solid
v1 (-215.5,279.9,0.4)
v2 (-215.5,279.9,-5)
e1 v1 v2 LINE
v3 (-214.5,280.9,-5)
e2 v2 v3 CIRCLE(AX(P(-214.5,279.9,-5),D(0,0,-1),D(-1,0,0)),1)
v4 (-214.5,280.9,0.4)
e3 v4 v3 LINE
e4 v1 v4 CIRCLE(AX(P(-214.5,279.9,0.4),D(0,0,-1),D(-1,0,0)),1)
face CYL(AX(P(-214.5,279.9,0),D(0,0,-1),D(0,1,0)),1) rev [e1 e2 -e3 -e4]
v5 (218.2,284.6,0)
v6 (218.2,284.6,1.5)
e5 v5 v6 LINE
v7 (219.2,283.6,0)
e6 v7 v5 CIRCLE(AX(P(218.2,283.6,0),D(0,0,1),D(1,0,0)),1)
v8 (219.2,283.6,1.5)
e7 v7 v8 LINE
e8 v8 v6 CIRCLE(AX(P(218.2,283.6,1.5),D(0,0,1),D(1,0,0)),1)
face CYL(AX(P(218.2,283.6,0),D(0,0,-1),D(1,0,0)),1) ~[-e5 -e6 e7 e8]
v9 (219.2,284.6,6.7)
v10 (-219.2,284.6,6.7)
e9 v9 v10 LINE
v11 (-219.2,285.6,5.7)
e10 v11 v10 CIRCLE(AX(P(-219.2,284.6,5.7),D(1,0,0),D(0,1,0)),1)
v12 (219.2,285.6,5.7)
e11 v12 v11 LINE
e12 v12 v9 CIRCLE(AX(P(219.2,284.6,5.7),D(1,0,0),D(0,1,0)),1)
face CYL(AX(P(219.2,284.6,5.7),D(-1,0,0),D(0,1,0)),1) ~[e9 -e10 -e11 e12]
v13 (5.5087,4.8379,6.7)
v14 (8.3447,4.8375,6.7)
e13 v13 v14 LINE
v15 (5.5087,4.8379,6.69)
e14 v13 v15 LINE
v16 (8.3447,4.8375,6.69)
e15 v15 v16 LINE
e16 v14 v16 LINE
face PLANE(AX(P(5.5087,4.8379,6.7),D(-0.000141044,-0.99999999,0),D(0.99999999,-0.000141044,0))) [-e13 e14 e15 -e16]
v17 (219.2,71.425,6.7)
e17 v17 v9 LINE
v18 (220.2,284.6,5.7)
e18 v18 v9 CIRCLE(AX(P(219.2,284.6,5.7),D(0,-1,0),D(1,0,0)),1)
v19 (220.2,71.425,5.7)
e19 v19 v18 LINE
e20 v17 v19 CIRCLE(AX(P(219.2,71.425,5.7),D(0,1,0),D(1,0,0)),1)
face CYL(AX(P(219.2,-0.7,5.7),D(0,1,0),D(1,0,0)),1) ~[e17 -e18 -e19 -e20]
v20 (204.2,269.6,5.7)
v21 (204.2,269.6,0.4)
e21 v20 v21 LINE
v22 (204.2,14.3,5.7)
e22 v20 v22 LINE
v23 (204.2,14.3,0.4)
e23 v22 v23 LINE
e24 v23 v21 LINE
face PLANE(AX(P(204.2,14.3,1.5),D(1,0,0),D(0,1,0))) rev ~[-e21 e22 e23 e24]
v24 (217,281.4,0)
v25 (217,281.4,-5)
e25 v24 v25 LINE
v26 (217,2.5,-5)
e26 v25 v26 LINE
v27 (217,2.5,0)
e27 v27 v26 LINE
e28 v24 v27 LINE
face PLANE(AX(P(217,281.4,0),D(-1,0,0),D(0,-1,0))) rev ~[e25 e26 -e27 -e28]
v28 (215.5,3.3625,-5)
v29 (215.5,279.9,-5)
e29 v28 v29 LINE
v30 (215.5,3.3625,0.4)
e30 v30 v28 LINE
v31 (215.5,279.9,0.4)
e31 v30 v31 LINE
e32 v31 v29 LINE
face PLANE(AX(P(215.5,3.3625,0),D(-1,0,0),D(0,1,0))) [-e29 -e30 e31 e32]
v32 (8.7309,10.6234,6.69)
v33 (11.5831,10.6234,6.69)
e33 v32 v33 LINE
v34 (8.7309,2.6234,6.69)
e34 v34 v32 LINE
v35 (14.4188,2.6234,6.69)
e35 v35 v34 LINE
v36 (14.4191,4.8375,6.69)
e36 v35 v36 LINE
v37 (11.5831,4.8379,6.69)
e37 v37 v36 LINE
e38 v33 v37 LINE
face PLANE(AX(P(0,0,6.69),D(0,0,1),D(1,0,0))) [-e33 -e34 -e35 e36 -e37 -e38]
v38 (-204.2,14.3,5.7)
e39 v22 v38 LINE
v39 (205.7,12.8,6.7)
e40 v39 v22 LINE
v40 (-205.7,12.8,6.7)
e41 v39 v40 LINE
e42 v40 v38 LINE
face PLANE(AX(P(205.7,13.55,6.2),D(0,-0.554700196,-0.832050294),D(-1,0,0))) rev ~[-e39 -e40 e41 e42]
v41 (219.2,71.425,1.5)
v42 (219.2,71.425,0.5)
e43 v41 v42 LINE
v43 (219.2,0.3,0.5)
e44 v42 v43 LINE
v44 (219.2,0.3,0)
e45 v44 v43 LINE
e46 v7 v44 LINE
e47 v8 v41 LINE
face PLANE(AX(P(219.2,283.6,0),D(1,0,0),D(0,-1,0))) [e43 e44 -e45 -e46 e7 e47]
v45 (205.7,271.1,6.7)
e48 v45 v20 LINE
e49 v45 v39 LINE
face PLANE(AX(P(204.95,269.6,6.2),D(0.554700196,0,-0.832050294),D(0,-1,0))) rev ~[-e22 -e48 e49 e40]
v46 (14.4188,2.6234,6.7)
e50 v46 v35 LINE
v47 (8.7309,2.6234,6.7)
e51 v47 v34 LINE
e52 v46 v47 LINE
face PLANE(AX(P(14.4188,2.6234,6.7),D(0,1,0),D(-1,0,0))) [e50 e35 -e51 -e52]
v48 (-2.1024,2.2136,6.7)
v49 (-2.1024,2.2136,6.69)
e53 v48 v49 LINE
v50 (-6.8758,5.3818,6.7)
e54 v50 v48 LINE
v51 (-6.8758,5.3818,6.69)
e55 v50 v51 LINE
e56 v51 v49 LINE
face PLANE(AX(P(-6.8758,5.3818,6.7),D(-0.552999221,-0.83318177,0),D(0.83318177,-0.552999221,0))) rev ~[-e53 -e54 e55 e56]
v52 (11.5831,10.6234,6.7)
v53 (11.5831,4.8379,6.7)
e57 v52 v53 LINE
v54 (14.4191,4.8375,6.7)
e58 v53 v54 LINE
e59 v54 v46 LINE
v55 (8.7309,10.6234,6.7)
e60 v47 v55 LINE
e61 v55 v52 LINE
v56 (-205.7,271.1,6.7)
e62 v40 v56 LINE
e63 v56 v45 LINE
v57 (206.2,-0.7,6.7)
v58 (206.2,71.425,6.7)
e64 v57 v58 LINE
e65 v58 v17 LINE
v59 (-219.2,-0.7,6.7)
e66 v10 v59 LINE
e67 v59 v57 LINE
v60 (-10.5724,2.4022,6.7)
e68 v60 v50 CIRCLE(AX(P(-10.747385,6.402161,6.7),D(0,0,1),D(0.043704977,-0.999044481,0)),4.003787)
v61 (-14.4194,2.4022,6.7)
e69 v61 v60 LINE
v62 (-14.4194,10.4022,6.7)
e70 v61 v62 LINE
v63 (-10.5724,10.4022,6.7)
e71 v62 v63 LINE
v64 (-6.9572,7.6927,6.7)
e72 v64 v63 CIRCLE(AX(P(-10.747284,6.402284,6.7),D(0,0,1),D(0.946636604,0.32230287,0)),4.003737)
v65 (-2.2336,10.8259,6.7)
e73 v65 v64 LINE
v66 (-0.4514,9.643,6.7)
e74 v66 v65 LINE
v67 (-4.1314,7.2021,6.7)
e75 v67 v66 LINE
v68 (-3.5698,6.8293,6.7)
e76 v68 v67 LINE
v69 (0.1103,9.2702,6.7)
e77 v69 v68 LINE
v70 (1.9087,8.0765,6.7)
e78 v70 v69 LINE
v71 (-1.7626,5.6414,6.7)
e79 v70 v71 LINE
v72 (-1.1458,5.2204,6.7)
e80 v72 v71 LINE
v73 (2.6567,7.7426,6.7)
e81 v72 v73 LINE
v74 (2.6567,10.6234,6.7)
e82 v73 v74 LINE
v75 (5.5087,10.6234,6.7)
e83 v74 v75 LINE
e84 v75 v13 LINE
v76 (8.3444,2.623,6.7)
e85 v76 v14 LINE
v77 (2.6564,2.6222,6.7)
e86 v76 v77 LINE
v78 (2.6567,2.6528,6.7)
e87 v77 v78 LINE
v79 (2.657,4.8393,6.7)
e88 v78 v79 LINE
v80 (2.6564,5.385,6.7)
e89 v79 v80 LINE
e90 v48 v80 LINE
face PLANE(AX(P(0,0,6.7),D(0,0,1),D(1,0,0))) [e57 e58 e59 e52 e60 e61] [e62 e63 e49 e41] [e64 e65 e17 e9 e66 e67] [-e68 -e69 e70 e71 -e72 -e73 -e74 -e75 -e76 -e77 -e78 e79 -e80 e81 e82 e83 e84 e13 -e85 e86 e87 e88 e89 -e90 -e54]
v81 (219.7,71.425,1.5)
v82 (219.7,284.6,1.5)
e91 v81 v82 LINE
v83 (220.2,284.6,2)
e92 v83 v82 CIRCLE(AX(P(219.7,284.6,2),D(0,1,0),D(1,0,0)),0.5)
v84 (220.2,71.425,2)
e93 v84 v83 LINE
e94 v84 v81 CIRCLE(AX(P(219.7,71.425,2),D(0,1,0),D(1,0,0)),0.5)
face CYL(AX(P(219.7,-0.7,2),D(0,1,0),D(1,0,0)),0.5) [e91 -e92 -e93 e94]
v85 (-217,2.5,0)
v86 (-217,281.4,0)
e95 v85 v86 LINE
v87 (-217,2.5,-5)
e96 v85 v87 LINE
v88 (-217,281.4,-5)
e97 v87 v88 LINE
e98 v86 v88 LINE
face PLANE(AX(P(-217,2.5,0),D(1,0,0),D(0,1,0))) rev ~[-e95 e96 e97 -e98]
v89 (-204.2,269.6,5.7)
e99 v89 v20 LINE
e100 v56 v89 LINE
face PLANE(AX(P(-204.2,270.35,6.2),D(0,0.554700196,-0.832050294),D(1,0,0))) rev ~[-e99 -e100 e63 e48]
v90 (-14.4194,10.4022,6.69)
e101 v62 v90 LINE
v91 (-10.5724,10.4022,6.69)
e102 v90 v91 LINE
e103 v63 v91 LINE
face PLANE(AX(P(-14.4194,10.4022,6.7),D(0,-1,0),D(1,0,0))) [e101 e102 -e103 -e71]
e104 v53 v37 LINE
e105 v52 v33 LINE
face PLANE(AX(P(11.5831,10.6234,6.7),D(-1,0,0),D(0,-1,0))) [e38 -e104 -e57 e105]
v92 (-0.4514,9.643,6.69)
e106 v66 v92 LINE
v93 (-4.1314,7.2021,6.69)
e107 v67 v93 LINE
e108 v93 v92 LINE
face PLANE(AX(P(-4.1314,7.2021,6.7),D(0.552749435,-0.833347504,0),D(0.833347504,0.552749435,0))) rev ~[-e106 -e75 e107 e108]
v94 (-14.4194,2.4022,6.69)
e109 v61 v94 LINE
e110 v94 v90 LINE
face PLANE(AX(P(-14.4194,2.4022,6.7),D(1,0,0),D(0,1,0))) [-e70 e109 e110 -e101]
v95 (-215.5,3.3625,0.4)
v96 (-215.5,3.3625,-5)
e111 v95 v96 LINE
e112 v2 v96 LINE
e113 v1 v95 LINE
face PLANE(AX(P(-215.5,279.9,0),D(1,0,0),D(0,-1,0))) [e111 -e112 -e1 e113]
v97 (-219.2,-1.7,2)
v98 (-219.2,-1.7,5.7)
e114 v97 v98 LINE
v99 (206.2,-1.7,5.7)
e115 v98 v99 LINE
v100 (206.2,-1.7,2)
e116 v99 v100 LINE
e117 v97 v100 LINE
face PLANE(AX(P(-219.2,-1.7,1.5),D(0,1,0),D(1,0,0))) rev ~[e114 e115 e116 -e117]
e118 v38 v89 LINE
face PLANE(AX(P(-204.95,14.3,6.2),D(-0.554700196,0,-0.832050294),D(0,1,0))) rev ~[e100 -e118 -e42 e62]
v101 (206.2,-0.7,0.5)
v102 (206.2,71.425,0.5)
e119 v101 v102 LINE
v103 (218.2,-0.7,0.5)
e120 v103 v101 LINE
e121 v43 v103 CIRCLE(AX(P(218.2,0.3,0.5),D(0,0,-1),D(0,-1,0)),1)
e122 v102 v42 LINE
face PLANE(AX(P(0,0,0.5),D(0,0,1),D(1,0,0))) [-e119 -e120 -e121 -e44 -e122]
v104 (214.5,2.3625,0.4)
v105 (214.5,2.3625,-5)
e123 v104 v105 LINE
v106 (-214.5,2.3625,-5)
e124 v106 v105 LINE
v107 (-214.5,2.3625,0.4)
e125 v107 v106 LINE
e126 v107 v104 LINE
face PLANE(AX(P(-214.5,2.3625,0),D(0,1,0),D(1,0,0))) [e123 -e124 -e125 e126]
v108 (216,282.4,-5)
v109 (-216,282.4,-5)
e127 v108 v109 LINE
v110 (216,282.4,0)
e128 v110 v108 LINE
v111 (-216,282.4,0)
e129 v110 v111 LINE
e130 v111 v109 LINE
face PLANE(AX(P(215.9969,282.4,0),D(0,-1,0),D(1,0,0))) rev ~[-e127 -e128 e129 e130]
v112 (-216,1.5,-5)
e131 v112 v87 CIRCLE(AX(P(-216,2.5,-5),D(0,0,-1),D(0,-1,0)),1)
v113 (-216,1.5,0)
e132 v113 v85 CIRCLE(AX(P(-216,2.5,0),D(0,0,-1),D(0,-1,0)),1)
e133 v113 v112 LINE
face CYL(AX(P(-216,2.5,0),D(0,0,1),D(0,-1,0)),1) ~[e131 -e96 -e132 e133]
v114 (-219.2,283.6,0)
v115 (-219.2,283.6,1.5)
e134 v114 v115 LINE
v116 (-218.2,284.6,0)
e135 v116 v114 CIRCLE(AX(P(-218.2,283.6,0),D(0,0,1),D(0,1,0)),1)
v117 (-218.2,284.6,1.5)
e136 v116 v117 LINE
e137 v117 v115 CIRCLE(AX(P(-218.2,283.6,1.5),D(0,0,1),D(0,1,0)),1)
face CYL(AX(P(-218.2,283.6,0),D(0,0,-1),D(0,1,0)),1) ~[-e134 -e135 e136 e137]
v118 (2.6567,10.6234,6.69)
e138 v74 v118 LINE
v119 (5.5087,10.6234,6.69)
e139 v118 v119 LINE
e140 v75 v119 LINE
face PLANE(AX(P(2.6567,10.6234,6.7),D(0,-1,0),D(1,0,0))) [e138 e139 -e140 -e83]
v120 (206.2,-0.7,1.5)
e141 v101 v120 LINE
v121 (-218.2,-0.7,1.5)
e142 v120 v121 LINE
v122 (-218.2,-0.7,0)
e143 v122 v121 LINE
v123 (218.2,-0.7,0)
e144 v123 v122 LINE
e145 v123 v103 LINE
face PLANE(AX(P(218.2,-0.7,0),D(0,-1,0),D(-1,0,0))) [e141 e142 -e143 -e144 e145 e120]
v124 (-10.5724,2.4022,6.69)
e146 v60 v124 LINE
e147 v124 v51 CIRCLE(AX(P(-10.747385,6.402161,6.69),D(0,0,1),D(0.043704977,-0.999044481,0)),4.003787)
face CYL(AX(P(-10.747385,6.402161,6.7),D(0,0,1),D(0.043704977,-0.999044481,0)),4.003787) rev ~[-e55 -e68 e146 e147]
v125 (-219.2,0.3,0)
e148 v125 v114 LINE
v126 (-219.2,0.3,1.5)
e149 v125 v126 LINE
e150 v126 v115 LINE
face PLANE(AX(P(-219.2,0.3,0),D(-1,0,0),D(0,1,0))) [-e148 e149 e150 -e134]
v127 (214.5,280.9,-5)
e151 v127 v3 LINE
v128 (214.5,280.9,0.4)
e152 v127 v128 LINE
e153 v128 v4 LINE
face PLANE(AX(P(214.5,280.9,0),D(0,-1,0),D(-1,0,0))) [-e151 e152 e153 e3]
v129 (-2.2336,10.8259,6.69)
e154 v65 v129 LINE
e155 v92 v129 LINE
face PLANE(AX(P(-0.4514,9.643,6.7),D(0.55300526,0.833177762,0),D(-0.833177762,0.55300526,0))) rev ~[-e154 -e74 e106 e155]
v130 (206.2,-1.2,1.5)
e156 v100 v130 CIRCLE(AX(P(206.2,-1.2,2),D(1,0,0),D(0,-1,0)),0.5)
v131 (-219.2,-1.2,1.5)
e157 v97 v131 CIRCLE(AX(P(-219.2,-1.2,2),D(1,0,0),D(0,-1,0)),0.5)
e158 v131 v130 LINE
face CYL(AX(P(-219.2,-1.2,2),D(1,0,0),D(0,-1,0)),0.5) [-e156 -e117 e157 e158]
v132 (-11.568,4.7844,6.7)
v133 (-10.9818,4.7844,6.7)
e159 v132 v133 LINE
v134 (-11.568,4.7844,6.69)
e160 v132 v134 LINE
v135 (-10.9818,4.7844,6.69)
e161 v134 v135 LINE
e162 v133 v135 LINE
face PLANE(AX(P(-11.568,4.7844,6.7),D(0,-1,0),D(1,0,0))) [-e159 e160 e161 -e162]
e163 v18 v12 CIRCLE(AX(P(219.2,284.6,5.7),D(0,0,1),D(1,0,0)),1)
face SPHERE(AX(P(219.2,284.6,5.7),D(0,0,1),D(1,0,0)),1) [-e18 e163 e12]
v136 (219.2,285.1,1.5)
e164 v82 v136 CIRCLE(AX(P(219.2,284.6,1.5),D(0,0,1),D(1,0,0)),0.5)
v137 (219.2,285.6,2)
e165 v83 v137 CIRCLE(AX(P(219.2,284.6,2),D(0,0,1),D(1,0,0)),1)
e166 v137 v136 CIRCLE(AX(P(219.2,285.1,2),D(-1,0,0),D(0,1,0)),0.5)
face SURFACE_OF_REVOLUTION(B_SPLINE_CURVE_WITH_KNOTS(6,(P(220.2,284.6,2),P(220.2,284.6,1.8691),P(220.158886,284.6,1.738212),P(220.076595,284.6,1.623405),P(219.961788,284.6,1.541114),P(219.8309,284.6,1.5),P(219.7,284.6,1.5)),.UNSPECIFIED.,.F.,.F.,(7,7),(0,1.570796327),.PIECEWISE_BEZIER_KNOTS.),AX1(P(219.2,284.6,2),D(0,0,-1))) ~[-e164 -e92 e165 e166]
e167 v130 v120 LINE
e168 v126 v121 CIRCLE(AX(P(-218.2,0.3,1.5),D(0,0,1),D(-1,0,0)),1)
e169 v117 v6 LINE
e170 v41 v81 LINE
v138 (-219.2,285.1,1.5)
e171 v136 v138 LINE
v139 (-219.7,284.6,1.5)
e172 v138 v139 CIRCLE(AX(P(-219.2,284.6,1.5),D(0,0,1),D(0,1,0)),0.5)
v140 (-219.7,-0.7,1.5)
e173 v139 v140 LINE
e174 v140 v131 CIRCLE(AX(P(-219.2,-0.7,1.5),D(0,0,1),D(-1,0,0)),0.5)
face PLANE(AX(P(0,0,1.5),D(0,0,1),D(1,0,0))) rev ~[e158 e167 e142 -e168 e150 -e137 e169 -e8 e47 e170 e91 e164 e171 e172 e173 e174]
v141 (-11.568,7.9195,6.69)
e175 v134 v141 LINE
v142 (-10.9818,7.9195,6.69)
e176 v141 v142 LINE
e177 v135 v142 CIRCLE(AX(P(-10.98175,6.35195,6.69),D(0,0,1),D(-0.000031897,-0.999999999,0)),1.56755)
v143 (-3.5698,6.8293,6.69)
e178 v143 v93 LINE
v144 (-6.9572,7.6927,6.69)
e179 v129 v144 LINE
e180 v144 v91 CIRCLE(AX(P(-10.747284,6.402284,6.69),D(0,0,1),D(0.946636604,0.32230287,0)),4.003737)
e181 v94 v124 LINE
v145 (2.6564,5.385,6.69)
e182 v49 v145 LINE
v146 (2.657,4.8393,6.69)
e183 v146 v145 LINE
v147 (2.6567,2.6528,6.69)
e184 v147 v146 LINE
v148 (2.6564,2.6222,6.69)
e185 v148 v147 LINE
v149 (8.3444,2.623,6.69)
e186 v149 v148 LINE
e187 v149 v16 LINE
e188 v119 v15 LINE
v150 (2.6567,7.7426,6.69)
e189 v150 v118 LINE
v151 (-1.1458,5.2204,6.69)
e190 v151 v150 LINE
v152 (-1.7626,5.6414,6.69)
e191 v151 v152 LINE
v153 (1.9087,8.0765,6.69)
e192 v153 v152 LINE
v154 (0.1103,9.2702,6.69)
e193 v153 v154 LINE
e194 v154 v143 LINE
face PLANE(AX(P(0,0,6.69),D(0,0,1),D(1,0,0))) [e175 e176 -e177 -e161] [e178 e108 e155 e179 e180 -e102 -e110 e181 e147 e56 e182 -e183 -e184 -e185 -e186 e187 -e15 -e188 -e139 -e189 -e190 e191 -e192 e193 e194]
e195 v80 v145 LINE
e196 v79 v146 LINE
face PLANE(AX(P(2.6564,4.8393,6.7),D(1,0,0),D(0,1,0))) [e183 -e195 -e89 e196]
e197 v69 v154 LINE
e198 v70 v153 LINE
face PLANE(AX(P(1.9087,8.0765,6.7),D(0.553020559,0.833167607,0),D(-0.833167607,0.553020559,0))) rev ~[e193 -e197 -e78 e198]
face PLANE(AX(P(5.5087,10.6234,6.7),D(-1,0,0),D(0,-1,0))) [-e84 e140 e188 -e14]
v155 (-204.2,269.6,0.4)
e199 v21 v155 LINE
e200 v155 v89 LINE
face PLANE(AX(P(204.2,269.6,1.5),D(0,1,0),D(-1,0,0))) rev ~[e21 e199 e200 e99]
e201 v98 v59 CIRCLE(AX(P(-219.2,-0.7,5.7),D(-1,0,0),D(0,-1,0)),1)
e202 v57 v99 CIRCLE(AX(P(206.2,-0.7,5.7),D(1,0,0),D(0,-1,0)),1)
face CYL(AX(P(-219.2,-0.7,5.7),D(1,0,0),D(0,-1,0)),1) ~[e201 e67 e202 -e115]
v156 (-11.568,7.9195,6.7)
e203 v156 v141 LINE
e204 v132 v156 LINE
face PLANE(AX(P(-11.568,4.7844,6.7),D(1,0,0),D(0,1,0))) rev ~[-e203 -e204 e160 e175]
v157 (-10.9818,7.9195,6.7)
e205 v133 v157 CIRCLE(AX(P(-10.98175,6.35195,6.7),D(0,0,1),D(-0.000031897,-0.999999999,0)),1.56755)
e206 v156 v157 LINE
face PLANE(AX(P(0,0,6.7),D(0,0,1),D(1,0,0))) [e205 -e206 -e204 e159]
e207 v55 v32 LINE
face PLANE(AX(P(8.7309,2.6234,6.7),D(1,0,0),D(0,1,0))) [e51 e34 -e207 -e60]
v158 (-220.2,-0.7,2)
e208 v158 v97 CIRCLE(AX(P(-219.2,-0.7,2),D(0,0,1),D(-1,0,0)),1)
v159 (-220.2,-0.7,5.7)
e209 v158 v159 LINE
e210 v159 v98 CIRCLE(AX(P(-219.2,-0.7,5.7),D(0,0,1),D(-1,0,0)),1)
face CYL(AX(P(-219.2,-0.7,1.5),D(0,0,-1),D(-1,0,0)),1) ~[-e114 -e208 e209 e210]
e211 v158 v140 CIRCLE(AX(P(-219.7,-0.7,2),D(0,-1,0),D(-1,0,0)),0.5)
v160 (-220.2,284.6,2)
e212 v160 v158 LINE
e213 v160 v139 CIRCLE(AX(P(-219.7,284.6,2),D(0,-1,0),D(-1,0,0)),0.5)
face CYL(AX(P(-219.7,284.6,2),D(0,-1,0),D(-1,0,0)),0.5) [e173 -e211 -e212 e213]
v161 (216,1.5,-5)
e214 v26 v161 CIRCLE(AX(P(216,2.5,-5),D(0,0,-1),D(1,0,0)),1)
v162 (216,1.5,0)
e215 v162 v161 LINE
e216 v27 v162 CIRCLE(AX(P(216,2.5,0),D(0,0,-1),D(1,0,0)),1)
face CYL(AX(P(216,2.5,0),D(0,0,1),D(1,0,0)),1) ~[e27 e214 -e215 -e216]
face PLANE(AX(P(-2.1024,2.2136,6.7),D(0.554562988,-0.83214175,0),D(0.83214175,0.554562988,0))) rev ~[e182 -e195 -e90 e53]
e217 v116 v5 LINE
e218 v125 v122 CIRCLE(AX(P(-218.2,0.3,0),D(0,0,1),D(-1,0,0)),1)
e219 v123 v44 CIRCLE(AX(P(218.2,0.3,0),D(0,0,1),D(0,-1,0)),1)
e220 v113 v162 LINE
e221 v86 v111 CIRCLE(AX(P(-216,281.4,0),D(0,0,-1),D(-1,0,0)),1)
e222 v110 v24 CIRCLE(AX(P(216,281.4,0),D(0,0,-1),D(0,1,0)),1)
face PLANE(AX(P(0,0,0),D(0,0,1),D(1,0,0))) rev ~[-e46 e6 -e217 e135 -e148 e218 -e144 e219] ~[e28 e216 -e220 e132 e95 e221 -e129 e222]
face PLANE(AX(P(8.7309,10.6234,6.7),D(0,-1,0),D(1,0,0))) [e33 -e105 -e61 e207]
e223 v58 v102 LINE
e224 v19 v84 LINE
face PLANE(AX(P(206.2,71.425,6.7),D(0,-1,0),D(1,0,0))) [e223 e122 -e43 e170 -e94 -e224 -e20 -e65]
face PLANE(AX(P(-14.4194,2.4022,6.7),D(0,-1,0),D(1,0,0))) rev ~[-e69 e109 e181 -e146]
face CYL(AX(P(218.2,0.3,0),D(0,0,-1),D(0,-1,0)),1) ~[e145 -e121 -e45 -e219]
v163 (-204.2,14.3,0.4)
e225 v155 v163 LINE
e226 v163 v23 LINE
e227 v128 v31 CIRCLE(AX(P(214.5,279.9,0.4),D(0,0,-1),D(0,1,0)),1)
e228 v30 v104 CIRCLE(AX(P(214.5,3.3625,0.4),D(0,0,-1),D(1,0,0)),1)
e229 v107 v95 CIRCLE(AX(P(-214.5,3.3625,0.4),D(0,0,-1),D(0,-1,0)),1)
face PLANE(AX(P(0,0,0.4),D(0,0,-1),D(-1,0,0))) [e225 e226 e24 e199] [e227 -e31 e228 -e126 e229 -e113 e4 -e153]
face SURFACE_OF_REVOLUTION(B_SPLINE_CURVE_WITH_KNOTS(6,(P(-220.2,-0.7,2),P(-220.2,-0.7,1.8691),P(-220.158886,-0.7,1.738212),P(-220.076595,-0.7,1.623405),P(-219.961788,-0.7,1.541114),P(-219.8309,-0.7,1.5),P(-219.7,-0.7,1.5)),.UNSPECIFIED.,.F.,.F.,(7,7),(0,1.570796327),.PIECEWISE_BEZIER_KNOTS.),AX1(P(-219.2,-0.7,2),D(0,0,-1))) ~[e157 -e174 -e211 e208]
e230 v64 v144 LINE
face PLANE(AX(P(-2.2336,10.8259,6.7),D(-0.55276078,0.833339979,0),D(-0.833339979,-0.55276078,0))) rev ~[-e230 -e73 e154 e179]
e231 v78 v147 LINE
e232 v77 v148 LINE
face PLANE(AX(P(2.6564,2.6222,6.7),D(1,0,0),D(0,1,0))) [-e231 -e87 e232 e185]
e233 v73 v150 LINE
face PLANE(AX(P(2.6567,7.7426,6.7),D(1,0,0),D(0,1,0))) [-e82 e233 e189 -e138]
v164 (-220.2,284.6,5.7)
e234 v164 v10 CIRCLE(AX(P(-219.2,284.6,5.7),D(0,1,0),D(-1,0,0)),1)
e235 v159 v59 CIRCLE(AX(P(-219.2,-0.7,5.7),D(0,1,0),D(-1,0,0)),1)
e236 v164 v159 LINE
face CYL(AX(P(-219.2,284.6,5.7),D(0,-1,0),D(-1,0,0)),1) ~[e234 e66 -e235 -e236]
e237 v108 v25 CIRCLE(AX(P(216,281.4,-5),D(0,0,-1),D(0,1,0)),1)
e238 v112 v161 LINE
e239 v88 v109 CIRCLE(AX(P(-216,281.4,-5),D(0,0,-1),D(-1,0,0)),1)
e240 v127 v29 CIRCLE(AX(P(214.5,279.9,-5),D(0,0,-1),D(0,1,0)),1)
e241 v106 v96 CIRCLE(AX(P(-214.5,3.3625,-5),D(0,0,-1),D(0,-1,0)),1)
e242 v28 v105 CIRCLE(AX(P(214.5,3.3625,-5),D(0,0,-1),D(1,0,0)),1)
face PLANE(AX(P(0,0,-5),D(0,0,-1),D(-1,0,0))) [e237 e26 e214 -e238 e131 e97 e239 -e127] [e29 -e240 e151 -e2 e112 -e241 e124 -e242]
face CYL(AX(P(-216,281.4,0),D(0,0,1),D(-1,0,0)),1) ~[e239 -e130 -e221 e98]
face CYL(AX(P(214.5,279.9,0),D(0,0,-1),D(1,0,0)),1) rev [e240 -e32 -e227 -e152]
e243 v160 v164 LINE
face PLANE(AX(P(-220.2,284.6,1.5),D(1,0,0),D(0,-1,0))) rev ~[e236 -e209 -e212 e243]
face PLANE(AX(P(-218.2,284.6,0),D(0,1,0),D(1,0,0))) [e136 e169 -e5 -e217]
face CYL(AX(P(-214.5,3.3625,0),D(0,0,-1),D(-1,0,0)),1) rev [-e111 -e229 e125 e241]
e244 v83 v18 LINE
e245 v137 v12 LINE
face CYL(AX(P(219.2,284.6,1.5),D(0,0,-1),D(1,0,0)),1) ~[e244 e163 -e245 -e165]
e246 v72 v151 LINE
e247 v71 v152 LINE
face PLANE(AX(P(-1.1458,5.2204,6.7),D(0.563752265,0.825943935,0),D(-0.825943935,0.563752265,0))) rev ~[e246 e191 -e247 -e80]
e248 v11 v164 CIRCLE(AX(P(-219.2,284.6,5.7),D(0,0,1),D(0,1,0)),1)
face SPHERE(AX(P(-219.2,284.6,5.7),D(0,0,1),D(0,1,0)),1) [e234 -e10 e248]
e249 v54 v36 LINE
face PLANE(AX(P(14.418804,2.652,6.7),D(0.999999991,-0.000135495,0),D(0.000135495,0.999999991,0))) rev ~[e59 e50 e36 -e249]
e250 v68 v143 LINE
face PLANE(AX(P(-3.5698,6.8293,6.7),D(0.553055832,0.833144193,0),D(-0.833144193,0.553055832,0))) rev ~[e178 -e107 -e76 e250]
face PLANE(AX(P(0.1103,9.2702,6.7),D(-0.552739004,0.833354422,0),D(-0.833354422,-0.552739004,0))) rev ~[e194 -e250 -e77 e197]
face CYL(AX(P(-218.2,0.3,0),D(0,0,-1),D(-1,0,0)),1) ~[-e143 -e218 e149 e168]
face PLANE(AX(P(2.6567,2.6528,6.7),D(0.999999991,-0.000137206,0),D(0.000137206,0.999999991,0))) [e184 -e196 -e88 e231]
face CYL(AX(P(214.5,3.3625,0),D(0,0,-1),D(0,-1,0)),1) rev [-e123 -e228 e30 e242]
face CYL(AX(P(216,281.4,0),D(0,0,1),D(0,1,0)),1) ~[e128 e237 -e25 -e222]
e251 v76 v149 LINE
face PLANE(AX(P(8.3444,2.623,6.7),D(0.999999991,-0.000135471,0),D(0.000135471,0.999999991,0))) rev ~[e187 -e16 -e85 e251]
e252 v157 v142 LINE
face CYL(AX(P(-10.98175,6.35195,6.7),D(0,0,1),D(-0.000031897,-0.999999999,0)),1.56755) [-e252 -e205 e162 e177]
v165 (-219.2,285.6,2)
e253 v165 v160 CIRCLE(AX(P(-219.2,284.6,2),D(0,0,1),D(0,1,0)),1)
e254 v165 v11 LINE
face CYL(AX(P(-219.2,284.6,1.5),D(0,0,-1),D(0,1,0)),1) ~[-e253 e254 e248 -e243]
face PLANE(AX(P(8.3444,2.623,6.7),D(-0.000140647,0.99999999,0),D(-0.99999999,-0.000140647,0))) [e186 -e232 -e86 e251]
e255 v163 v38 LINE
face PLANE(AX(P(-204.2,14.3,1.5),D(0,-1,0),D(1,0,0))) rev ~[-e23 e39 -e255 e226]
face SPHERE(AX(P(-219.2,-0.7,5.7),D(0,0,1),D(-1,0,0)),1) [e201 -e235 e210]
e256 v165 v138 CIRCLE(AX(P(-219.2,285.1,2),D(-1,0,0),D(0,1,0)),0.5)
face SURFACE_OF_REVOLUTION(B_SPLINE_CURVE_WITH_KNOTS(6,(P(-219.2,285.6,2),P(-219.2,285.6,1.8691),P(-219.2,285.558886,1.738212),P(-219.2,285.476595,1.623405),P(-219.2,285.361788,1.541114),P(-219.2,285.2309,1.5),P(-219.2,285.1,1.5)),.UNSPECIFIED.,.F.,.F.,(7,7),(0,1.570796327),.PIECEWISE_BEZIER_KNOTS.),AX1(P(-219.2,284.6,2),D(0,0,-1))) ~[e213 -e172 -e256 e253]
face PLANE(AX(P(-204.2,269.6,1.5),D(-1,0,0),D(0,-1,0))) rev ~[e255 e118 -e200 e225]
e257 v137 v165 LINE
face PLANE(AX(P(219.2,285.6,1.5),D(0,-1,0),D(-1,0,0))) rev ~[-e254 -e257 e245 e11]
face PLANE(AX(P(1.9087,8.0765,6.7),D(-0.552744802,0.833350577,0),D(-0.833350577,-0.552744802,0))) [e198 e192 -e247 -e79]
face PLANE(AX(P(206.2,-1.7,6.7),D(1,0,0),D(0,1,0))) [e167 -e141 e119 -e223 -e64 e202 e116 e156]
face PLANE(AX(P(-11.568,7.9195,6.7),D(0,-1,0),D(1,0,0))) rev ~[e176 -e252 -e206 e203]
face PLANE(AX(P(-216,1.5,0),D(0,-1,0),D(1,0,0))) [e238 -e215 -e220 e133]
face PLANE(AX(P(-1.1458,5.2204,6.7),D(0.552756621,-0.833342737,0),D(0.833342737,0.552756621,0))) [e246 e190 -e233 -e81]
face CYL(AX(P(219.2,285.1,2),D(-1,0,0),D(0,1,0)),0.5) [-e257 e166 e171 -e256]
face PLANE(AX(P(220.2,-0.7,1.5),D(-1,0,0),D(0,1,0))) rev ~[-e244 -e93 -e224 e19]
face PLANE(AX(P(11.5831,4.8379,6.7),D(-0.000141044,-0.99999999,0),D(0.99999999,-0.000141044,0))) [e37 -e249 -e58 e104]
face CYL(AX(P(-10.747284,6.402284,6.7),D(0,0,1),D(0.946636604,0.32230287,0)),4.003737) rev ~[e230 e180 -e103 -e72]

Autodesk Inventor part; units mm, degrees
ref_plane "YZ Plane" through (0, 0, 0) normal (1, 0, 0) x (0, 1, 0)
ref_plane "XZ Plane" through (0, 0, 0) normal (0, 1, 0) x (-1, 0, 0)
ref_plane "XY Plane" through (0, 0, 0) normal (0, 0, 1) x (1, 0, 0)
sketch "Szkic1" plane through (0, 0, 0) normal (0, 0, 1) x (1, 0, 0)
  line L0 (-218.2, 284.6) -> (218.2, 284.6)
  line L1 (219.2, 283.6) -> (219.2, 0.3)
  line L2 (218.2, -0.7) -> (-218.2, -0.7)
  line L3 (-219.2, 0.3) -> (-219.2, 283.6)
  arc A0 (219.2, 283.6) -> (218.2, 284.6) centre (218.2, 283.6) ccw
  arc A1 (-218.2, 284.6) -> (-219.2, 283.6) centre (-218.2, 283.6) ccw
  arc A2 (-219.2, 0.3) -> (-218.2, -0.7) centre (-218.2, 0.3) ccw
  arc A3 (218.2, -0.7) -> (219.2, 0.3) centre (218.2, 0.3) ccw
  line L4 (214.5, 280.9) -> (-214.5, 280.9)
  line L5 (-215.5, 279.9) -> (-215.5, 3.3625)
  line L6 (-214.5, 2.3625) -> (214.5, 2.3625)
  line L7 (215.5, 3.3625) -> (215.5, 279.9)
  arc A4 (-214.5, 280.9) -> (-215.5, 279.9) centre (-214.5, 279.9) ccw
  arc A5 (215.5, 279.9) -> (214.5, 280.9) centre (214.5, 279.9) ccw
  arc A6 (214.5, 2.3625) -> (215.5, 3.3625) centre (214.5, 3.3625) ccw
  arc A7 (-215.5, 3.3625) -> (-214.5, 2.3625) centre (-214.5, 3.3625) ccw
  point P0 (0, 0)
  point P1 (219.2, 284.6)
  point P2 (-219.2, -0.7)
  point P3 (219.2, -0.7)
  dimension "d7" = 1
extrude "Wyciągnięcie proste1" add sketch "Szkic1" along normal blind 1.5
sketch "Szkic2" plane through (0, 0, 0) normal (0, 0, -1) x (-1, 0, 0)
  line L0 (217, 2.5) -> (217, 281.4)
  line L1 (216, 282.4) -> (-216, 282.4)
  line L2 (-217, 281.4) -> (-217, 2.5)
  line L3 (-215.5, 3.3625) -> (-215.5, 279.9)
  arc A0 (-214.5, 280.9) -> (-215.5, 279.9) centre (-214.5, 279.9) ccw
  line L4 (-214.5, 280.9) -> (214.5, 280.9)
  arc A1 (215.5, 279.9) -> (214.5, 280.9) centre (214.5, 279.9) ccw
  line L5 (215.5, 279.9) -> (215.5, 3.3625)
  arc A2 (214.5, 2.3625) -> (215.5, 3.3625) centre (214.5, 3.3625) ccw
  line L6 (216, 1.5) -> (73, 1.5)
  line L7 (214.5, 2.3625) -> (-214.5, 2.3625)
  arc A3 (-215.5, 3.3625) -> (-214.5, 2.3625) centre (-214.5, 3.3625) ccw
  line L8 (-51.8, 1.5) -> (-216, 1.5)
  line L9 (-216, 282.4) -> (-215.9969, 282.4)
  line L10 (-39.9, 1.5) -> (-51.8, 1.5)
  line L11 (61.1, 1.5) -> (-39.9, 1.5)
  line L12 (73, 1.5) -> (61.1, 1.5)
  arc A4 (-216, 282.4) -> (-217, 281.4) centre (-216, 281.4) ccw
  arc A5 (217, 281.4) -> (216, 282.4) centre (216, 281.4) ccw
  arc A6 (216, 1.5) -> (217, 2.5) centre (216, 2.5) ccw
  arc A7 (-217, 2.5) -> (-216, 1.5) centre (-216, 2.5) ccw
  point P0 (0, 0)
  dimension "d10" = 1
  dimension "d11" = 1
  dimension "d12" = 1
  dimension "d13" = 1
extrude "Wyciągnięcie proste2" add sketch "Szkic2" along normal blind 5
sketch "Szkic3" plane through (0, 0, 1.5) normal (0, 0, 1) x (1, 0, 0)
  line L0 (-220.2, 284.6) -> (-220.2, -0.7) projected
  arc A0 (-220.2, -0.7) -> (-219.2, -1.7) centre (-219.2, -0.7) ccw
  line L1 (-219.2, -1.7) -> (219.2, -1.7) projected
  arc A1 (-219.2, 285.6) -> (-220.2, 284.6) centre (-219.2, 284.6) ccw
  line L2 (219.2, 285.6) -> (-219.2, 285.6) projected
  arc A2 (220.2, 284.6) -> (219.2, 285.6) centre (219.2, 284.6) ccw
  line L3 (220.2, -0.7) -> (220.2, 284.6) projected
  arc A3 (219.2, -1.7) -> (220.2, -0.7) centre (219.2, -0.7) ccw
  line L4 (-204.2, 269.6) -> (204.2, 269.6)
  line L5 (204.2, 269.6) -> (204.2, 14.3)
  line L6 (204.2, 14.3) -> (-204.2, 14.3)
  line L7 (-204.2, 14.3) -> (-204.2, 269.6)
  point P0 (0, 0)
extrude "Wyciągnięcie proste4" add sketch "Szkic3" along normal blind 5.2
fillet "Zaokrąglenie2" radius 0.5 8 edges at (-219.9071, 285.3071, 1.5) (-220.2, 141.95, 1.5) (-219.9071, -1.4071, 1.5) (0, -1.7, 1.5) (219.9071, -1.4071, 1.5) (220.2, 141.95, 1.5) (219.9071, 285.3071, 1.5) (0, 285.6, 1.5)
fillet "Zaokrąglenie3" radius 1 8 edges at (-219.9071, 285.3071, 6.7) (-220.2, 141.95, 6.7) (-219.9071, -1.4071, 6.7) (0, -1.7, 6.7) (219.9071, -1.4071, 6.7) (220.2, 141.95, 6.7) (219.9071, 285.3071, 6.7) (0, 285.6, 6.7)
sketch "Szkic4" plane through (0, 0, 1.5) normal (0, 0, -1) x (-1, 0, 0)
  line L0 (-215.5, 3.3625) -> (-215.5, 279.9) projected
  arc A0 (-214.5, 280.9) -> (-215.5, 279.9) centre (-214.5, 279.9) ccw projected
  line L1 (-204.2, 14.3) -> (-204.2, 269.6) projected
  line L2 (-204.2, 269.6) -> (204.2, 269.6) projected
  line L3 (-214.5, 280.9) -> (214.5, 280.9) projected
  line L4 (204.2, 269.6) -> (204.2, 14.3) projected
  arc A1 (215.5, 279.9) -> (214.5, 280.9) centre (214.5, 279.9) ccw projected
  line L5 (215.5, 279.9) -> (215.5, 3.3625) projected
  line L6 (204.2, 14.3) -> (-204.2, 14.3) projected
  line L7 (214.5, 2.3625) -> (-214.5, 2.3625) projected
  arc A2 (214.5, 2.3625) -> (215.5, 3.3625) centre (214.5, 3.3625) ccw projected
  arc A3 (-215.5, 3.3625) -> (-214.5, 2.3625) centre (-214.5, 3.3625) ccw projected
  point P0 (0, 0)
extrude "Wyciągnięcie proste5" add sketch "Szkic4" along normal blind 1.1
chamfer "Faza1" distance 1.5 distance2 1 1 edges at (-204.2, 141.95, 6.7) measured on face at (68.0667, 4.3, 6.7)
chamfer "Faza2" distance 1.5 distance2 1 1 edges at (0, 269.6, 6.7) measured on face at (68.0667, 4.3, 6.7)
chamfer "Faza3" distance 1.5 distance2 1 1 edges at (204.2, 141.95, 6.7) measured on face at (68.0667, 4.3, 6.7)
chamfer "Faza4" distance 1.5 distance2 1 1 edges at (0, 14.3, 6.7) measured on face at (68.0667, 4.3, 6.7)
sketch "Szkic5" plane through (0, 0, 6.7) normal (0, 0, 1) x (1, 0, 0)
  line L0 (219.2, -1.7) -> (206.2, -1.7)
  line L1 (206.2, -1.7) -> (206.45, -1.7)
  line L2 (206.2, 71.425) -> (220.2, 71.425)
  line L3 (220.2, 71.425) -> (220.2, -0.7)
  arc A0 (219.2, -1.7) -> (220.2, -0.7) centre (219.2, -0.7) ccw
  line L4 (206.2, -1.7) -> (206.2, 71.425)
extrude "Wyciągnięcie proste6" cut sketch "Szkic5" against normal blind 6.2
sketch "Szkic6" plane through (0, 0, 6.7) normal (0, 0, 1) x (1, 0, 0)
  line L0 (2.6567, 2.6528) -> (2.657, 4.8393)
  line L1 (-6.8758, 5.3818) -> (-2.1024, 2.2136)
  line L2 (-2.2336, 10.8259) -> (-6.9572, 7.6927)
  line L3 (-2.1024, 2.2136) -> (2.6564, 5.385)
  line L4 (14.4188, 2.6234) -> (14.4191, 4.8375)
  line L5 (1.9087, 8.0765) -> (-1.7626, 5.6414)
  line L6 (1.9087, 8.0765) -> (0.1103, 9.2702)
  line L7 (0.1103, 9.2702) -> (-3.5698, 6.8293)
  line L8 (-3.5698, 6.8293) -> (-4.1314, 7.2021)
  line L9 (-4.1314, 7.2021) -> (-0.4514, 9.643)
  line L10 (-0.4514, 9.643) -> (-2.2336, 10.8259)
  line L11 (14.4188, 2.6234) -> (14.4188, 2.652)
  line L12 (2.6564, 2.6222) -> (2.6564, 5.385)
  line L13 (8.7309, 2.6234) -> (8.7309, 10.6234)
  line L14 (8.7309, 10.6234) -> (11.5831, 10.6234)
  line L15 (8.7309, 10.6234) -> (11.5831, 10.6234)
  line L16 (11.5831, 10.6234) -> (11.5831, 4.8379)
  line L17 (11.5831, 4.8379) -> (14.4191, 4.8375)
  line L18 (14.4188, 2.6234) -> (8.7309, 2.6234)
  line L19 (8.3444, 2.623) -> (2.6564, 2.623)
  line L20 (8.3444, 2.623) -> (8.3447, 4.8375)
  line L21 (5.5087, 4.8379) -> (8.3447, 4.8375)
  line L22 (5.5087, 10.6234) -> (5.5087, 4.8379)
  line L23 (2.6567, 10.6234) -> (5.5087, 10.6234)
  line L24 (2.8855, 10.652) -> (2.5712, 10.652)
  line L25 (2.6564, 2.623) -> (2.6564, 5.385)
  line L26 (2.6567, 7.7426) -> (2.6567, 10.6234)
  line L27 (-14.4194, 2.4022) -> (-14.4194, 10.4022)
  line L28 (-14.4194, 10.4022) -> (-10.5724, 10.4022)
  line L29 (-14.4194, 10.4022) -> (-10.5724, 10.4022)
  line L30 (-14.4194, 2.4022) -> (-10.5724, 2.4022)
  arc A0 (-10.5724, 2.4022) -> (-6.8758, 5.3818) centre (-10.7474, 6.4022) ccw
  arc A1 (-6.9572, 7.6927) -> (-10.5724, 10.4022) centre (-10.7474, 6.4022) ccw
  line L31 (-11.568, 4.7844) -> (-11.568, 7.9195)
  line L32 (-11.568, 7.9195) -> (-10.9818, 7.9195)
  arc A2 (-10.9818, 4.7844) -> (-10.9818, 7.9195) centre (-10.9818, 6.352) ccw
  line L33 (-7.0718, 7.99) -> (-7.0718, 7.9899)
  line L34 (-1.1458, 5.2204) -> (-1.7626, 5.6414)
  line L35 (-1.1458, 5.2204) -> (2.6567, 7.7426)
  line L36 (-11.568, 4.7844) -> (-10.9818, 4.7844)
extrude "Wyciągnięcie proste7" cut sketch "Szkic6" against normal blind 0.01
properties part number "OBUDOWA PRZEDNIA" material "Tworzywo sztuczne, nieprzezroczyste czarne"
